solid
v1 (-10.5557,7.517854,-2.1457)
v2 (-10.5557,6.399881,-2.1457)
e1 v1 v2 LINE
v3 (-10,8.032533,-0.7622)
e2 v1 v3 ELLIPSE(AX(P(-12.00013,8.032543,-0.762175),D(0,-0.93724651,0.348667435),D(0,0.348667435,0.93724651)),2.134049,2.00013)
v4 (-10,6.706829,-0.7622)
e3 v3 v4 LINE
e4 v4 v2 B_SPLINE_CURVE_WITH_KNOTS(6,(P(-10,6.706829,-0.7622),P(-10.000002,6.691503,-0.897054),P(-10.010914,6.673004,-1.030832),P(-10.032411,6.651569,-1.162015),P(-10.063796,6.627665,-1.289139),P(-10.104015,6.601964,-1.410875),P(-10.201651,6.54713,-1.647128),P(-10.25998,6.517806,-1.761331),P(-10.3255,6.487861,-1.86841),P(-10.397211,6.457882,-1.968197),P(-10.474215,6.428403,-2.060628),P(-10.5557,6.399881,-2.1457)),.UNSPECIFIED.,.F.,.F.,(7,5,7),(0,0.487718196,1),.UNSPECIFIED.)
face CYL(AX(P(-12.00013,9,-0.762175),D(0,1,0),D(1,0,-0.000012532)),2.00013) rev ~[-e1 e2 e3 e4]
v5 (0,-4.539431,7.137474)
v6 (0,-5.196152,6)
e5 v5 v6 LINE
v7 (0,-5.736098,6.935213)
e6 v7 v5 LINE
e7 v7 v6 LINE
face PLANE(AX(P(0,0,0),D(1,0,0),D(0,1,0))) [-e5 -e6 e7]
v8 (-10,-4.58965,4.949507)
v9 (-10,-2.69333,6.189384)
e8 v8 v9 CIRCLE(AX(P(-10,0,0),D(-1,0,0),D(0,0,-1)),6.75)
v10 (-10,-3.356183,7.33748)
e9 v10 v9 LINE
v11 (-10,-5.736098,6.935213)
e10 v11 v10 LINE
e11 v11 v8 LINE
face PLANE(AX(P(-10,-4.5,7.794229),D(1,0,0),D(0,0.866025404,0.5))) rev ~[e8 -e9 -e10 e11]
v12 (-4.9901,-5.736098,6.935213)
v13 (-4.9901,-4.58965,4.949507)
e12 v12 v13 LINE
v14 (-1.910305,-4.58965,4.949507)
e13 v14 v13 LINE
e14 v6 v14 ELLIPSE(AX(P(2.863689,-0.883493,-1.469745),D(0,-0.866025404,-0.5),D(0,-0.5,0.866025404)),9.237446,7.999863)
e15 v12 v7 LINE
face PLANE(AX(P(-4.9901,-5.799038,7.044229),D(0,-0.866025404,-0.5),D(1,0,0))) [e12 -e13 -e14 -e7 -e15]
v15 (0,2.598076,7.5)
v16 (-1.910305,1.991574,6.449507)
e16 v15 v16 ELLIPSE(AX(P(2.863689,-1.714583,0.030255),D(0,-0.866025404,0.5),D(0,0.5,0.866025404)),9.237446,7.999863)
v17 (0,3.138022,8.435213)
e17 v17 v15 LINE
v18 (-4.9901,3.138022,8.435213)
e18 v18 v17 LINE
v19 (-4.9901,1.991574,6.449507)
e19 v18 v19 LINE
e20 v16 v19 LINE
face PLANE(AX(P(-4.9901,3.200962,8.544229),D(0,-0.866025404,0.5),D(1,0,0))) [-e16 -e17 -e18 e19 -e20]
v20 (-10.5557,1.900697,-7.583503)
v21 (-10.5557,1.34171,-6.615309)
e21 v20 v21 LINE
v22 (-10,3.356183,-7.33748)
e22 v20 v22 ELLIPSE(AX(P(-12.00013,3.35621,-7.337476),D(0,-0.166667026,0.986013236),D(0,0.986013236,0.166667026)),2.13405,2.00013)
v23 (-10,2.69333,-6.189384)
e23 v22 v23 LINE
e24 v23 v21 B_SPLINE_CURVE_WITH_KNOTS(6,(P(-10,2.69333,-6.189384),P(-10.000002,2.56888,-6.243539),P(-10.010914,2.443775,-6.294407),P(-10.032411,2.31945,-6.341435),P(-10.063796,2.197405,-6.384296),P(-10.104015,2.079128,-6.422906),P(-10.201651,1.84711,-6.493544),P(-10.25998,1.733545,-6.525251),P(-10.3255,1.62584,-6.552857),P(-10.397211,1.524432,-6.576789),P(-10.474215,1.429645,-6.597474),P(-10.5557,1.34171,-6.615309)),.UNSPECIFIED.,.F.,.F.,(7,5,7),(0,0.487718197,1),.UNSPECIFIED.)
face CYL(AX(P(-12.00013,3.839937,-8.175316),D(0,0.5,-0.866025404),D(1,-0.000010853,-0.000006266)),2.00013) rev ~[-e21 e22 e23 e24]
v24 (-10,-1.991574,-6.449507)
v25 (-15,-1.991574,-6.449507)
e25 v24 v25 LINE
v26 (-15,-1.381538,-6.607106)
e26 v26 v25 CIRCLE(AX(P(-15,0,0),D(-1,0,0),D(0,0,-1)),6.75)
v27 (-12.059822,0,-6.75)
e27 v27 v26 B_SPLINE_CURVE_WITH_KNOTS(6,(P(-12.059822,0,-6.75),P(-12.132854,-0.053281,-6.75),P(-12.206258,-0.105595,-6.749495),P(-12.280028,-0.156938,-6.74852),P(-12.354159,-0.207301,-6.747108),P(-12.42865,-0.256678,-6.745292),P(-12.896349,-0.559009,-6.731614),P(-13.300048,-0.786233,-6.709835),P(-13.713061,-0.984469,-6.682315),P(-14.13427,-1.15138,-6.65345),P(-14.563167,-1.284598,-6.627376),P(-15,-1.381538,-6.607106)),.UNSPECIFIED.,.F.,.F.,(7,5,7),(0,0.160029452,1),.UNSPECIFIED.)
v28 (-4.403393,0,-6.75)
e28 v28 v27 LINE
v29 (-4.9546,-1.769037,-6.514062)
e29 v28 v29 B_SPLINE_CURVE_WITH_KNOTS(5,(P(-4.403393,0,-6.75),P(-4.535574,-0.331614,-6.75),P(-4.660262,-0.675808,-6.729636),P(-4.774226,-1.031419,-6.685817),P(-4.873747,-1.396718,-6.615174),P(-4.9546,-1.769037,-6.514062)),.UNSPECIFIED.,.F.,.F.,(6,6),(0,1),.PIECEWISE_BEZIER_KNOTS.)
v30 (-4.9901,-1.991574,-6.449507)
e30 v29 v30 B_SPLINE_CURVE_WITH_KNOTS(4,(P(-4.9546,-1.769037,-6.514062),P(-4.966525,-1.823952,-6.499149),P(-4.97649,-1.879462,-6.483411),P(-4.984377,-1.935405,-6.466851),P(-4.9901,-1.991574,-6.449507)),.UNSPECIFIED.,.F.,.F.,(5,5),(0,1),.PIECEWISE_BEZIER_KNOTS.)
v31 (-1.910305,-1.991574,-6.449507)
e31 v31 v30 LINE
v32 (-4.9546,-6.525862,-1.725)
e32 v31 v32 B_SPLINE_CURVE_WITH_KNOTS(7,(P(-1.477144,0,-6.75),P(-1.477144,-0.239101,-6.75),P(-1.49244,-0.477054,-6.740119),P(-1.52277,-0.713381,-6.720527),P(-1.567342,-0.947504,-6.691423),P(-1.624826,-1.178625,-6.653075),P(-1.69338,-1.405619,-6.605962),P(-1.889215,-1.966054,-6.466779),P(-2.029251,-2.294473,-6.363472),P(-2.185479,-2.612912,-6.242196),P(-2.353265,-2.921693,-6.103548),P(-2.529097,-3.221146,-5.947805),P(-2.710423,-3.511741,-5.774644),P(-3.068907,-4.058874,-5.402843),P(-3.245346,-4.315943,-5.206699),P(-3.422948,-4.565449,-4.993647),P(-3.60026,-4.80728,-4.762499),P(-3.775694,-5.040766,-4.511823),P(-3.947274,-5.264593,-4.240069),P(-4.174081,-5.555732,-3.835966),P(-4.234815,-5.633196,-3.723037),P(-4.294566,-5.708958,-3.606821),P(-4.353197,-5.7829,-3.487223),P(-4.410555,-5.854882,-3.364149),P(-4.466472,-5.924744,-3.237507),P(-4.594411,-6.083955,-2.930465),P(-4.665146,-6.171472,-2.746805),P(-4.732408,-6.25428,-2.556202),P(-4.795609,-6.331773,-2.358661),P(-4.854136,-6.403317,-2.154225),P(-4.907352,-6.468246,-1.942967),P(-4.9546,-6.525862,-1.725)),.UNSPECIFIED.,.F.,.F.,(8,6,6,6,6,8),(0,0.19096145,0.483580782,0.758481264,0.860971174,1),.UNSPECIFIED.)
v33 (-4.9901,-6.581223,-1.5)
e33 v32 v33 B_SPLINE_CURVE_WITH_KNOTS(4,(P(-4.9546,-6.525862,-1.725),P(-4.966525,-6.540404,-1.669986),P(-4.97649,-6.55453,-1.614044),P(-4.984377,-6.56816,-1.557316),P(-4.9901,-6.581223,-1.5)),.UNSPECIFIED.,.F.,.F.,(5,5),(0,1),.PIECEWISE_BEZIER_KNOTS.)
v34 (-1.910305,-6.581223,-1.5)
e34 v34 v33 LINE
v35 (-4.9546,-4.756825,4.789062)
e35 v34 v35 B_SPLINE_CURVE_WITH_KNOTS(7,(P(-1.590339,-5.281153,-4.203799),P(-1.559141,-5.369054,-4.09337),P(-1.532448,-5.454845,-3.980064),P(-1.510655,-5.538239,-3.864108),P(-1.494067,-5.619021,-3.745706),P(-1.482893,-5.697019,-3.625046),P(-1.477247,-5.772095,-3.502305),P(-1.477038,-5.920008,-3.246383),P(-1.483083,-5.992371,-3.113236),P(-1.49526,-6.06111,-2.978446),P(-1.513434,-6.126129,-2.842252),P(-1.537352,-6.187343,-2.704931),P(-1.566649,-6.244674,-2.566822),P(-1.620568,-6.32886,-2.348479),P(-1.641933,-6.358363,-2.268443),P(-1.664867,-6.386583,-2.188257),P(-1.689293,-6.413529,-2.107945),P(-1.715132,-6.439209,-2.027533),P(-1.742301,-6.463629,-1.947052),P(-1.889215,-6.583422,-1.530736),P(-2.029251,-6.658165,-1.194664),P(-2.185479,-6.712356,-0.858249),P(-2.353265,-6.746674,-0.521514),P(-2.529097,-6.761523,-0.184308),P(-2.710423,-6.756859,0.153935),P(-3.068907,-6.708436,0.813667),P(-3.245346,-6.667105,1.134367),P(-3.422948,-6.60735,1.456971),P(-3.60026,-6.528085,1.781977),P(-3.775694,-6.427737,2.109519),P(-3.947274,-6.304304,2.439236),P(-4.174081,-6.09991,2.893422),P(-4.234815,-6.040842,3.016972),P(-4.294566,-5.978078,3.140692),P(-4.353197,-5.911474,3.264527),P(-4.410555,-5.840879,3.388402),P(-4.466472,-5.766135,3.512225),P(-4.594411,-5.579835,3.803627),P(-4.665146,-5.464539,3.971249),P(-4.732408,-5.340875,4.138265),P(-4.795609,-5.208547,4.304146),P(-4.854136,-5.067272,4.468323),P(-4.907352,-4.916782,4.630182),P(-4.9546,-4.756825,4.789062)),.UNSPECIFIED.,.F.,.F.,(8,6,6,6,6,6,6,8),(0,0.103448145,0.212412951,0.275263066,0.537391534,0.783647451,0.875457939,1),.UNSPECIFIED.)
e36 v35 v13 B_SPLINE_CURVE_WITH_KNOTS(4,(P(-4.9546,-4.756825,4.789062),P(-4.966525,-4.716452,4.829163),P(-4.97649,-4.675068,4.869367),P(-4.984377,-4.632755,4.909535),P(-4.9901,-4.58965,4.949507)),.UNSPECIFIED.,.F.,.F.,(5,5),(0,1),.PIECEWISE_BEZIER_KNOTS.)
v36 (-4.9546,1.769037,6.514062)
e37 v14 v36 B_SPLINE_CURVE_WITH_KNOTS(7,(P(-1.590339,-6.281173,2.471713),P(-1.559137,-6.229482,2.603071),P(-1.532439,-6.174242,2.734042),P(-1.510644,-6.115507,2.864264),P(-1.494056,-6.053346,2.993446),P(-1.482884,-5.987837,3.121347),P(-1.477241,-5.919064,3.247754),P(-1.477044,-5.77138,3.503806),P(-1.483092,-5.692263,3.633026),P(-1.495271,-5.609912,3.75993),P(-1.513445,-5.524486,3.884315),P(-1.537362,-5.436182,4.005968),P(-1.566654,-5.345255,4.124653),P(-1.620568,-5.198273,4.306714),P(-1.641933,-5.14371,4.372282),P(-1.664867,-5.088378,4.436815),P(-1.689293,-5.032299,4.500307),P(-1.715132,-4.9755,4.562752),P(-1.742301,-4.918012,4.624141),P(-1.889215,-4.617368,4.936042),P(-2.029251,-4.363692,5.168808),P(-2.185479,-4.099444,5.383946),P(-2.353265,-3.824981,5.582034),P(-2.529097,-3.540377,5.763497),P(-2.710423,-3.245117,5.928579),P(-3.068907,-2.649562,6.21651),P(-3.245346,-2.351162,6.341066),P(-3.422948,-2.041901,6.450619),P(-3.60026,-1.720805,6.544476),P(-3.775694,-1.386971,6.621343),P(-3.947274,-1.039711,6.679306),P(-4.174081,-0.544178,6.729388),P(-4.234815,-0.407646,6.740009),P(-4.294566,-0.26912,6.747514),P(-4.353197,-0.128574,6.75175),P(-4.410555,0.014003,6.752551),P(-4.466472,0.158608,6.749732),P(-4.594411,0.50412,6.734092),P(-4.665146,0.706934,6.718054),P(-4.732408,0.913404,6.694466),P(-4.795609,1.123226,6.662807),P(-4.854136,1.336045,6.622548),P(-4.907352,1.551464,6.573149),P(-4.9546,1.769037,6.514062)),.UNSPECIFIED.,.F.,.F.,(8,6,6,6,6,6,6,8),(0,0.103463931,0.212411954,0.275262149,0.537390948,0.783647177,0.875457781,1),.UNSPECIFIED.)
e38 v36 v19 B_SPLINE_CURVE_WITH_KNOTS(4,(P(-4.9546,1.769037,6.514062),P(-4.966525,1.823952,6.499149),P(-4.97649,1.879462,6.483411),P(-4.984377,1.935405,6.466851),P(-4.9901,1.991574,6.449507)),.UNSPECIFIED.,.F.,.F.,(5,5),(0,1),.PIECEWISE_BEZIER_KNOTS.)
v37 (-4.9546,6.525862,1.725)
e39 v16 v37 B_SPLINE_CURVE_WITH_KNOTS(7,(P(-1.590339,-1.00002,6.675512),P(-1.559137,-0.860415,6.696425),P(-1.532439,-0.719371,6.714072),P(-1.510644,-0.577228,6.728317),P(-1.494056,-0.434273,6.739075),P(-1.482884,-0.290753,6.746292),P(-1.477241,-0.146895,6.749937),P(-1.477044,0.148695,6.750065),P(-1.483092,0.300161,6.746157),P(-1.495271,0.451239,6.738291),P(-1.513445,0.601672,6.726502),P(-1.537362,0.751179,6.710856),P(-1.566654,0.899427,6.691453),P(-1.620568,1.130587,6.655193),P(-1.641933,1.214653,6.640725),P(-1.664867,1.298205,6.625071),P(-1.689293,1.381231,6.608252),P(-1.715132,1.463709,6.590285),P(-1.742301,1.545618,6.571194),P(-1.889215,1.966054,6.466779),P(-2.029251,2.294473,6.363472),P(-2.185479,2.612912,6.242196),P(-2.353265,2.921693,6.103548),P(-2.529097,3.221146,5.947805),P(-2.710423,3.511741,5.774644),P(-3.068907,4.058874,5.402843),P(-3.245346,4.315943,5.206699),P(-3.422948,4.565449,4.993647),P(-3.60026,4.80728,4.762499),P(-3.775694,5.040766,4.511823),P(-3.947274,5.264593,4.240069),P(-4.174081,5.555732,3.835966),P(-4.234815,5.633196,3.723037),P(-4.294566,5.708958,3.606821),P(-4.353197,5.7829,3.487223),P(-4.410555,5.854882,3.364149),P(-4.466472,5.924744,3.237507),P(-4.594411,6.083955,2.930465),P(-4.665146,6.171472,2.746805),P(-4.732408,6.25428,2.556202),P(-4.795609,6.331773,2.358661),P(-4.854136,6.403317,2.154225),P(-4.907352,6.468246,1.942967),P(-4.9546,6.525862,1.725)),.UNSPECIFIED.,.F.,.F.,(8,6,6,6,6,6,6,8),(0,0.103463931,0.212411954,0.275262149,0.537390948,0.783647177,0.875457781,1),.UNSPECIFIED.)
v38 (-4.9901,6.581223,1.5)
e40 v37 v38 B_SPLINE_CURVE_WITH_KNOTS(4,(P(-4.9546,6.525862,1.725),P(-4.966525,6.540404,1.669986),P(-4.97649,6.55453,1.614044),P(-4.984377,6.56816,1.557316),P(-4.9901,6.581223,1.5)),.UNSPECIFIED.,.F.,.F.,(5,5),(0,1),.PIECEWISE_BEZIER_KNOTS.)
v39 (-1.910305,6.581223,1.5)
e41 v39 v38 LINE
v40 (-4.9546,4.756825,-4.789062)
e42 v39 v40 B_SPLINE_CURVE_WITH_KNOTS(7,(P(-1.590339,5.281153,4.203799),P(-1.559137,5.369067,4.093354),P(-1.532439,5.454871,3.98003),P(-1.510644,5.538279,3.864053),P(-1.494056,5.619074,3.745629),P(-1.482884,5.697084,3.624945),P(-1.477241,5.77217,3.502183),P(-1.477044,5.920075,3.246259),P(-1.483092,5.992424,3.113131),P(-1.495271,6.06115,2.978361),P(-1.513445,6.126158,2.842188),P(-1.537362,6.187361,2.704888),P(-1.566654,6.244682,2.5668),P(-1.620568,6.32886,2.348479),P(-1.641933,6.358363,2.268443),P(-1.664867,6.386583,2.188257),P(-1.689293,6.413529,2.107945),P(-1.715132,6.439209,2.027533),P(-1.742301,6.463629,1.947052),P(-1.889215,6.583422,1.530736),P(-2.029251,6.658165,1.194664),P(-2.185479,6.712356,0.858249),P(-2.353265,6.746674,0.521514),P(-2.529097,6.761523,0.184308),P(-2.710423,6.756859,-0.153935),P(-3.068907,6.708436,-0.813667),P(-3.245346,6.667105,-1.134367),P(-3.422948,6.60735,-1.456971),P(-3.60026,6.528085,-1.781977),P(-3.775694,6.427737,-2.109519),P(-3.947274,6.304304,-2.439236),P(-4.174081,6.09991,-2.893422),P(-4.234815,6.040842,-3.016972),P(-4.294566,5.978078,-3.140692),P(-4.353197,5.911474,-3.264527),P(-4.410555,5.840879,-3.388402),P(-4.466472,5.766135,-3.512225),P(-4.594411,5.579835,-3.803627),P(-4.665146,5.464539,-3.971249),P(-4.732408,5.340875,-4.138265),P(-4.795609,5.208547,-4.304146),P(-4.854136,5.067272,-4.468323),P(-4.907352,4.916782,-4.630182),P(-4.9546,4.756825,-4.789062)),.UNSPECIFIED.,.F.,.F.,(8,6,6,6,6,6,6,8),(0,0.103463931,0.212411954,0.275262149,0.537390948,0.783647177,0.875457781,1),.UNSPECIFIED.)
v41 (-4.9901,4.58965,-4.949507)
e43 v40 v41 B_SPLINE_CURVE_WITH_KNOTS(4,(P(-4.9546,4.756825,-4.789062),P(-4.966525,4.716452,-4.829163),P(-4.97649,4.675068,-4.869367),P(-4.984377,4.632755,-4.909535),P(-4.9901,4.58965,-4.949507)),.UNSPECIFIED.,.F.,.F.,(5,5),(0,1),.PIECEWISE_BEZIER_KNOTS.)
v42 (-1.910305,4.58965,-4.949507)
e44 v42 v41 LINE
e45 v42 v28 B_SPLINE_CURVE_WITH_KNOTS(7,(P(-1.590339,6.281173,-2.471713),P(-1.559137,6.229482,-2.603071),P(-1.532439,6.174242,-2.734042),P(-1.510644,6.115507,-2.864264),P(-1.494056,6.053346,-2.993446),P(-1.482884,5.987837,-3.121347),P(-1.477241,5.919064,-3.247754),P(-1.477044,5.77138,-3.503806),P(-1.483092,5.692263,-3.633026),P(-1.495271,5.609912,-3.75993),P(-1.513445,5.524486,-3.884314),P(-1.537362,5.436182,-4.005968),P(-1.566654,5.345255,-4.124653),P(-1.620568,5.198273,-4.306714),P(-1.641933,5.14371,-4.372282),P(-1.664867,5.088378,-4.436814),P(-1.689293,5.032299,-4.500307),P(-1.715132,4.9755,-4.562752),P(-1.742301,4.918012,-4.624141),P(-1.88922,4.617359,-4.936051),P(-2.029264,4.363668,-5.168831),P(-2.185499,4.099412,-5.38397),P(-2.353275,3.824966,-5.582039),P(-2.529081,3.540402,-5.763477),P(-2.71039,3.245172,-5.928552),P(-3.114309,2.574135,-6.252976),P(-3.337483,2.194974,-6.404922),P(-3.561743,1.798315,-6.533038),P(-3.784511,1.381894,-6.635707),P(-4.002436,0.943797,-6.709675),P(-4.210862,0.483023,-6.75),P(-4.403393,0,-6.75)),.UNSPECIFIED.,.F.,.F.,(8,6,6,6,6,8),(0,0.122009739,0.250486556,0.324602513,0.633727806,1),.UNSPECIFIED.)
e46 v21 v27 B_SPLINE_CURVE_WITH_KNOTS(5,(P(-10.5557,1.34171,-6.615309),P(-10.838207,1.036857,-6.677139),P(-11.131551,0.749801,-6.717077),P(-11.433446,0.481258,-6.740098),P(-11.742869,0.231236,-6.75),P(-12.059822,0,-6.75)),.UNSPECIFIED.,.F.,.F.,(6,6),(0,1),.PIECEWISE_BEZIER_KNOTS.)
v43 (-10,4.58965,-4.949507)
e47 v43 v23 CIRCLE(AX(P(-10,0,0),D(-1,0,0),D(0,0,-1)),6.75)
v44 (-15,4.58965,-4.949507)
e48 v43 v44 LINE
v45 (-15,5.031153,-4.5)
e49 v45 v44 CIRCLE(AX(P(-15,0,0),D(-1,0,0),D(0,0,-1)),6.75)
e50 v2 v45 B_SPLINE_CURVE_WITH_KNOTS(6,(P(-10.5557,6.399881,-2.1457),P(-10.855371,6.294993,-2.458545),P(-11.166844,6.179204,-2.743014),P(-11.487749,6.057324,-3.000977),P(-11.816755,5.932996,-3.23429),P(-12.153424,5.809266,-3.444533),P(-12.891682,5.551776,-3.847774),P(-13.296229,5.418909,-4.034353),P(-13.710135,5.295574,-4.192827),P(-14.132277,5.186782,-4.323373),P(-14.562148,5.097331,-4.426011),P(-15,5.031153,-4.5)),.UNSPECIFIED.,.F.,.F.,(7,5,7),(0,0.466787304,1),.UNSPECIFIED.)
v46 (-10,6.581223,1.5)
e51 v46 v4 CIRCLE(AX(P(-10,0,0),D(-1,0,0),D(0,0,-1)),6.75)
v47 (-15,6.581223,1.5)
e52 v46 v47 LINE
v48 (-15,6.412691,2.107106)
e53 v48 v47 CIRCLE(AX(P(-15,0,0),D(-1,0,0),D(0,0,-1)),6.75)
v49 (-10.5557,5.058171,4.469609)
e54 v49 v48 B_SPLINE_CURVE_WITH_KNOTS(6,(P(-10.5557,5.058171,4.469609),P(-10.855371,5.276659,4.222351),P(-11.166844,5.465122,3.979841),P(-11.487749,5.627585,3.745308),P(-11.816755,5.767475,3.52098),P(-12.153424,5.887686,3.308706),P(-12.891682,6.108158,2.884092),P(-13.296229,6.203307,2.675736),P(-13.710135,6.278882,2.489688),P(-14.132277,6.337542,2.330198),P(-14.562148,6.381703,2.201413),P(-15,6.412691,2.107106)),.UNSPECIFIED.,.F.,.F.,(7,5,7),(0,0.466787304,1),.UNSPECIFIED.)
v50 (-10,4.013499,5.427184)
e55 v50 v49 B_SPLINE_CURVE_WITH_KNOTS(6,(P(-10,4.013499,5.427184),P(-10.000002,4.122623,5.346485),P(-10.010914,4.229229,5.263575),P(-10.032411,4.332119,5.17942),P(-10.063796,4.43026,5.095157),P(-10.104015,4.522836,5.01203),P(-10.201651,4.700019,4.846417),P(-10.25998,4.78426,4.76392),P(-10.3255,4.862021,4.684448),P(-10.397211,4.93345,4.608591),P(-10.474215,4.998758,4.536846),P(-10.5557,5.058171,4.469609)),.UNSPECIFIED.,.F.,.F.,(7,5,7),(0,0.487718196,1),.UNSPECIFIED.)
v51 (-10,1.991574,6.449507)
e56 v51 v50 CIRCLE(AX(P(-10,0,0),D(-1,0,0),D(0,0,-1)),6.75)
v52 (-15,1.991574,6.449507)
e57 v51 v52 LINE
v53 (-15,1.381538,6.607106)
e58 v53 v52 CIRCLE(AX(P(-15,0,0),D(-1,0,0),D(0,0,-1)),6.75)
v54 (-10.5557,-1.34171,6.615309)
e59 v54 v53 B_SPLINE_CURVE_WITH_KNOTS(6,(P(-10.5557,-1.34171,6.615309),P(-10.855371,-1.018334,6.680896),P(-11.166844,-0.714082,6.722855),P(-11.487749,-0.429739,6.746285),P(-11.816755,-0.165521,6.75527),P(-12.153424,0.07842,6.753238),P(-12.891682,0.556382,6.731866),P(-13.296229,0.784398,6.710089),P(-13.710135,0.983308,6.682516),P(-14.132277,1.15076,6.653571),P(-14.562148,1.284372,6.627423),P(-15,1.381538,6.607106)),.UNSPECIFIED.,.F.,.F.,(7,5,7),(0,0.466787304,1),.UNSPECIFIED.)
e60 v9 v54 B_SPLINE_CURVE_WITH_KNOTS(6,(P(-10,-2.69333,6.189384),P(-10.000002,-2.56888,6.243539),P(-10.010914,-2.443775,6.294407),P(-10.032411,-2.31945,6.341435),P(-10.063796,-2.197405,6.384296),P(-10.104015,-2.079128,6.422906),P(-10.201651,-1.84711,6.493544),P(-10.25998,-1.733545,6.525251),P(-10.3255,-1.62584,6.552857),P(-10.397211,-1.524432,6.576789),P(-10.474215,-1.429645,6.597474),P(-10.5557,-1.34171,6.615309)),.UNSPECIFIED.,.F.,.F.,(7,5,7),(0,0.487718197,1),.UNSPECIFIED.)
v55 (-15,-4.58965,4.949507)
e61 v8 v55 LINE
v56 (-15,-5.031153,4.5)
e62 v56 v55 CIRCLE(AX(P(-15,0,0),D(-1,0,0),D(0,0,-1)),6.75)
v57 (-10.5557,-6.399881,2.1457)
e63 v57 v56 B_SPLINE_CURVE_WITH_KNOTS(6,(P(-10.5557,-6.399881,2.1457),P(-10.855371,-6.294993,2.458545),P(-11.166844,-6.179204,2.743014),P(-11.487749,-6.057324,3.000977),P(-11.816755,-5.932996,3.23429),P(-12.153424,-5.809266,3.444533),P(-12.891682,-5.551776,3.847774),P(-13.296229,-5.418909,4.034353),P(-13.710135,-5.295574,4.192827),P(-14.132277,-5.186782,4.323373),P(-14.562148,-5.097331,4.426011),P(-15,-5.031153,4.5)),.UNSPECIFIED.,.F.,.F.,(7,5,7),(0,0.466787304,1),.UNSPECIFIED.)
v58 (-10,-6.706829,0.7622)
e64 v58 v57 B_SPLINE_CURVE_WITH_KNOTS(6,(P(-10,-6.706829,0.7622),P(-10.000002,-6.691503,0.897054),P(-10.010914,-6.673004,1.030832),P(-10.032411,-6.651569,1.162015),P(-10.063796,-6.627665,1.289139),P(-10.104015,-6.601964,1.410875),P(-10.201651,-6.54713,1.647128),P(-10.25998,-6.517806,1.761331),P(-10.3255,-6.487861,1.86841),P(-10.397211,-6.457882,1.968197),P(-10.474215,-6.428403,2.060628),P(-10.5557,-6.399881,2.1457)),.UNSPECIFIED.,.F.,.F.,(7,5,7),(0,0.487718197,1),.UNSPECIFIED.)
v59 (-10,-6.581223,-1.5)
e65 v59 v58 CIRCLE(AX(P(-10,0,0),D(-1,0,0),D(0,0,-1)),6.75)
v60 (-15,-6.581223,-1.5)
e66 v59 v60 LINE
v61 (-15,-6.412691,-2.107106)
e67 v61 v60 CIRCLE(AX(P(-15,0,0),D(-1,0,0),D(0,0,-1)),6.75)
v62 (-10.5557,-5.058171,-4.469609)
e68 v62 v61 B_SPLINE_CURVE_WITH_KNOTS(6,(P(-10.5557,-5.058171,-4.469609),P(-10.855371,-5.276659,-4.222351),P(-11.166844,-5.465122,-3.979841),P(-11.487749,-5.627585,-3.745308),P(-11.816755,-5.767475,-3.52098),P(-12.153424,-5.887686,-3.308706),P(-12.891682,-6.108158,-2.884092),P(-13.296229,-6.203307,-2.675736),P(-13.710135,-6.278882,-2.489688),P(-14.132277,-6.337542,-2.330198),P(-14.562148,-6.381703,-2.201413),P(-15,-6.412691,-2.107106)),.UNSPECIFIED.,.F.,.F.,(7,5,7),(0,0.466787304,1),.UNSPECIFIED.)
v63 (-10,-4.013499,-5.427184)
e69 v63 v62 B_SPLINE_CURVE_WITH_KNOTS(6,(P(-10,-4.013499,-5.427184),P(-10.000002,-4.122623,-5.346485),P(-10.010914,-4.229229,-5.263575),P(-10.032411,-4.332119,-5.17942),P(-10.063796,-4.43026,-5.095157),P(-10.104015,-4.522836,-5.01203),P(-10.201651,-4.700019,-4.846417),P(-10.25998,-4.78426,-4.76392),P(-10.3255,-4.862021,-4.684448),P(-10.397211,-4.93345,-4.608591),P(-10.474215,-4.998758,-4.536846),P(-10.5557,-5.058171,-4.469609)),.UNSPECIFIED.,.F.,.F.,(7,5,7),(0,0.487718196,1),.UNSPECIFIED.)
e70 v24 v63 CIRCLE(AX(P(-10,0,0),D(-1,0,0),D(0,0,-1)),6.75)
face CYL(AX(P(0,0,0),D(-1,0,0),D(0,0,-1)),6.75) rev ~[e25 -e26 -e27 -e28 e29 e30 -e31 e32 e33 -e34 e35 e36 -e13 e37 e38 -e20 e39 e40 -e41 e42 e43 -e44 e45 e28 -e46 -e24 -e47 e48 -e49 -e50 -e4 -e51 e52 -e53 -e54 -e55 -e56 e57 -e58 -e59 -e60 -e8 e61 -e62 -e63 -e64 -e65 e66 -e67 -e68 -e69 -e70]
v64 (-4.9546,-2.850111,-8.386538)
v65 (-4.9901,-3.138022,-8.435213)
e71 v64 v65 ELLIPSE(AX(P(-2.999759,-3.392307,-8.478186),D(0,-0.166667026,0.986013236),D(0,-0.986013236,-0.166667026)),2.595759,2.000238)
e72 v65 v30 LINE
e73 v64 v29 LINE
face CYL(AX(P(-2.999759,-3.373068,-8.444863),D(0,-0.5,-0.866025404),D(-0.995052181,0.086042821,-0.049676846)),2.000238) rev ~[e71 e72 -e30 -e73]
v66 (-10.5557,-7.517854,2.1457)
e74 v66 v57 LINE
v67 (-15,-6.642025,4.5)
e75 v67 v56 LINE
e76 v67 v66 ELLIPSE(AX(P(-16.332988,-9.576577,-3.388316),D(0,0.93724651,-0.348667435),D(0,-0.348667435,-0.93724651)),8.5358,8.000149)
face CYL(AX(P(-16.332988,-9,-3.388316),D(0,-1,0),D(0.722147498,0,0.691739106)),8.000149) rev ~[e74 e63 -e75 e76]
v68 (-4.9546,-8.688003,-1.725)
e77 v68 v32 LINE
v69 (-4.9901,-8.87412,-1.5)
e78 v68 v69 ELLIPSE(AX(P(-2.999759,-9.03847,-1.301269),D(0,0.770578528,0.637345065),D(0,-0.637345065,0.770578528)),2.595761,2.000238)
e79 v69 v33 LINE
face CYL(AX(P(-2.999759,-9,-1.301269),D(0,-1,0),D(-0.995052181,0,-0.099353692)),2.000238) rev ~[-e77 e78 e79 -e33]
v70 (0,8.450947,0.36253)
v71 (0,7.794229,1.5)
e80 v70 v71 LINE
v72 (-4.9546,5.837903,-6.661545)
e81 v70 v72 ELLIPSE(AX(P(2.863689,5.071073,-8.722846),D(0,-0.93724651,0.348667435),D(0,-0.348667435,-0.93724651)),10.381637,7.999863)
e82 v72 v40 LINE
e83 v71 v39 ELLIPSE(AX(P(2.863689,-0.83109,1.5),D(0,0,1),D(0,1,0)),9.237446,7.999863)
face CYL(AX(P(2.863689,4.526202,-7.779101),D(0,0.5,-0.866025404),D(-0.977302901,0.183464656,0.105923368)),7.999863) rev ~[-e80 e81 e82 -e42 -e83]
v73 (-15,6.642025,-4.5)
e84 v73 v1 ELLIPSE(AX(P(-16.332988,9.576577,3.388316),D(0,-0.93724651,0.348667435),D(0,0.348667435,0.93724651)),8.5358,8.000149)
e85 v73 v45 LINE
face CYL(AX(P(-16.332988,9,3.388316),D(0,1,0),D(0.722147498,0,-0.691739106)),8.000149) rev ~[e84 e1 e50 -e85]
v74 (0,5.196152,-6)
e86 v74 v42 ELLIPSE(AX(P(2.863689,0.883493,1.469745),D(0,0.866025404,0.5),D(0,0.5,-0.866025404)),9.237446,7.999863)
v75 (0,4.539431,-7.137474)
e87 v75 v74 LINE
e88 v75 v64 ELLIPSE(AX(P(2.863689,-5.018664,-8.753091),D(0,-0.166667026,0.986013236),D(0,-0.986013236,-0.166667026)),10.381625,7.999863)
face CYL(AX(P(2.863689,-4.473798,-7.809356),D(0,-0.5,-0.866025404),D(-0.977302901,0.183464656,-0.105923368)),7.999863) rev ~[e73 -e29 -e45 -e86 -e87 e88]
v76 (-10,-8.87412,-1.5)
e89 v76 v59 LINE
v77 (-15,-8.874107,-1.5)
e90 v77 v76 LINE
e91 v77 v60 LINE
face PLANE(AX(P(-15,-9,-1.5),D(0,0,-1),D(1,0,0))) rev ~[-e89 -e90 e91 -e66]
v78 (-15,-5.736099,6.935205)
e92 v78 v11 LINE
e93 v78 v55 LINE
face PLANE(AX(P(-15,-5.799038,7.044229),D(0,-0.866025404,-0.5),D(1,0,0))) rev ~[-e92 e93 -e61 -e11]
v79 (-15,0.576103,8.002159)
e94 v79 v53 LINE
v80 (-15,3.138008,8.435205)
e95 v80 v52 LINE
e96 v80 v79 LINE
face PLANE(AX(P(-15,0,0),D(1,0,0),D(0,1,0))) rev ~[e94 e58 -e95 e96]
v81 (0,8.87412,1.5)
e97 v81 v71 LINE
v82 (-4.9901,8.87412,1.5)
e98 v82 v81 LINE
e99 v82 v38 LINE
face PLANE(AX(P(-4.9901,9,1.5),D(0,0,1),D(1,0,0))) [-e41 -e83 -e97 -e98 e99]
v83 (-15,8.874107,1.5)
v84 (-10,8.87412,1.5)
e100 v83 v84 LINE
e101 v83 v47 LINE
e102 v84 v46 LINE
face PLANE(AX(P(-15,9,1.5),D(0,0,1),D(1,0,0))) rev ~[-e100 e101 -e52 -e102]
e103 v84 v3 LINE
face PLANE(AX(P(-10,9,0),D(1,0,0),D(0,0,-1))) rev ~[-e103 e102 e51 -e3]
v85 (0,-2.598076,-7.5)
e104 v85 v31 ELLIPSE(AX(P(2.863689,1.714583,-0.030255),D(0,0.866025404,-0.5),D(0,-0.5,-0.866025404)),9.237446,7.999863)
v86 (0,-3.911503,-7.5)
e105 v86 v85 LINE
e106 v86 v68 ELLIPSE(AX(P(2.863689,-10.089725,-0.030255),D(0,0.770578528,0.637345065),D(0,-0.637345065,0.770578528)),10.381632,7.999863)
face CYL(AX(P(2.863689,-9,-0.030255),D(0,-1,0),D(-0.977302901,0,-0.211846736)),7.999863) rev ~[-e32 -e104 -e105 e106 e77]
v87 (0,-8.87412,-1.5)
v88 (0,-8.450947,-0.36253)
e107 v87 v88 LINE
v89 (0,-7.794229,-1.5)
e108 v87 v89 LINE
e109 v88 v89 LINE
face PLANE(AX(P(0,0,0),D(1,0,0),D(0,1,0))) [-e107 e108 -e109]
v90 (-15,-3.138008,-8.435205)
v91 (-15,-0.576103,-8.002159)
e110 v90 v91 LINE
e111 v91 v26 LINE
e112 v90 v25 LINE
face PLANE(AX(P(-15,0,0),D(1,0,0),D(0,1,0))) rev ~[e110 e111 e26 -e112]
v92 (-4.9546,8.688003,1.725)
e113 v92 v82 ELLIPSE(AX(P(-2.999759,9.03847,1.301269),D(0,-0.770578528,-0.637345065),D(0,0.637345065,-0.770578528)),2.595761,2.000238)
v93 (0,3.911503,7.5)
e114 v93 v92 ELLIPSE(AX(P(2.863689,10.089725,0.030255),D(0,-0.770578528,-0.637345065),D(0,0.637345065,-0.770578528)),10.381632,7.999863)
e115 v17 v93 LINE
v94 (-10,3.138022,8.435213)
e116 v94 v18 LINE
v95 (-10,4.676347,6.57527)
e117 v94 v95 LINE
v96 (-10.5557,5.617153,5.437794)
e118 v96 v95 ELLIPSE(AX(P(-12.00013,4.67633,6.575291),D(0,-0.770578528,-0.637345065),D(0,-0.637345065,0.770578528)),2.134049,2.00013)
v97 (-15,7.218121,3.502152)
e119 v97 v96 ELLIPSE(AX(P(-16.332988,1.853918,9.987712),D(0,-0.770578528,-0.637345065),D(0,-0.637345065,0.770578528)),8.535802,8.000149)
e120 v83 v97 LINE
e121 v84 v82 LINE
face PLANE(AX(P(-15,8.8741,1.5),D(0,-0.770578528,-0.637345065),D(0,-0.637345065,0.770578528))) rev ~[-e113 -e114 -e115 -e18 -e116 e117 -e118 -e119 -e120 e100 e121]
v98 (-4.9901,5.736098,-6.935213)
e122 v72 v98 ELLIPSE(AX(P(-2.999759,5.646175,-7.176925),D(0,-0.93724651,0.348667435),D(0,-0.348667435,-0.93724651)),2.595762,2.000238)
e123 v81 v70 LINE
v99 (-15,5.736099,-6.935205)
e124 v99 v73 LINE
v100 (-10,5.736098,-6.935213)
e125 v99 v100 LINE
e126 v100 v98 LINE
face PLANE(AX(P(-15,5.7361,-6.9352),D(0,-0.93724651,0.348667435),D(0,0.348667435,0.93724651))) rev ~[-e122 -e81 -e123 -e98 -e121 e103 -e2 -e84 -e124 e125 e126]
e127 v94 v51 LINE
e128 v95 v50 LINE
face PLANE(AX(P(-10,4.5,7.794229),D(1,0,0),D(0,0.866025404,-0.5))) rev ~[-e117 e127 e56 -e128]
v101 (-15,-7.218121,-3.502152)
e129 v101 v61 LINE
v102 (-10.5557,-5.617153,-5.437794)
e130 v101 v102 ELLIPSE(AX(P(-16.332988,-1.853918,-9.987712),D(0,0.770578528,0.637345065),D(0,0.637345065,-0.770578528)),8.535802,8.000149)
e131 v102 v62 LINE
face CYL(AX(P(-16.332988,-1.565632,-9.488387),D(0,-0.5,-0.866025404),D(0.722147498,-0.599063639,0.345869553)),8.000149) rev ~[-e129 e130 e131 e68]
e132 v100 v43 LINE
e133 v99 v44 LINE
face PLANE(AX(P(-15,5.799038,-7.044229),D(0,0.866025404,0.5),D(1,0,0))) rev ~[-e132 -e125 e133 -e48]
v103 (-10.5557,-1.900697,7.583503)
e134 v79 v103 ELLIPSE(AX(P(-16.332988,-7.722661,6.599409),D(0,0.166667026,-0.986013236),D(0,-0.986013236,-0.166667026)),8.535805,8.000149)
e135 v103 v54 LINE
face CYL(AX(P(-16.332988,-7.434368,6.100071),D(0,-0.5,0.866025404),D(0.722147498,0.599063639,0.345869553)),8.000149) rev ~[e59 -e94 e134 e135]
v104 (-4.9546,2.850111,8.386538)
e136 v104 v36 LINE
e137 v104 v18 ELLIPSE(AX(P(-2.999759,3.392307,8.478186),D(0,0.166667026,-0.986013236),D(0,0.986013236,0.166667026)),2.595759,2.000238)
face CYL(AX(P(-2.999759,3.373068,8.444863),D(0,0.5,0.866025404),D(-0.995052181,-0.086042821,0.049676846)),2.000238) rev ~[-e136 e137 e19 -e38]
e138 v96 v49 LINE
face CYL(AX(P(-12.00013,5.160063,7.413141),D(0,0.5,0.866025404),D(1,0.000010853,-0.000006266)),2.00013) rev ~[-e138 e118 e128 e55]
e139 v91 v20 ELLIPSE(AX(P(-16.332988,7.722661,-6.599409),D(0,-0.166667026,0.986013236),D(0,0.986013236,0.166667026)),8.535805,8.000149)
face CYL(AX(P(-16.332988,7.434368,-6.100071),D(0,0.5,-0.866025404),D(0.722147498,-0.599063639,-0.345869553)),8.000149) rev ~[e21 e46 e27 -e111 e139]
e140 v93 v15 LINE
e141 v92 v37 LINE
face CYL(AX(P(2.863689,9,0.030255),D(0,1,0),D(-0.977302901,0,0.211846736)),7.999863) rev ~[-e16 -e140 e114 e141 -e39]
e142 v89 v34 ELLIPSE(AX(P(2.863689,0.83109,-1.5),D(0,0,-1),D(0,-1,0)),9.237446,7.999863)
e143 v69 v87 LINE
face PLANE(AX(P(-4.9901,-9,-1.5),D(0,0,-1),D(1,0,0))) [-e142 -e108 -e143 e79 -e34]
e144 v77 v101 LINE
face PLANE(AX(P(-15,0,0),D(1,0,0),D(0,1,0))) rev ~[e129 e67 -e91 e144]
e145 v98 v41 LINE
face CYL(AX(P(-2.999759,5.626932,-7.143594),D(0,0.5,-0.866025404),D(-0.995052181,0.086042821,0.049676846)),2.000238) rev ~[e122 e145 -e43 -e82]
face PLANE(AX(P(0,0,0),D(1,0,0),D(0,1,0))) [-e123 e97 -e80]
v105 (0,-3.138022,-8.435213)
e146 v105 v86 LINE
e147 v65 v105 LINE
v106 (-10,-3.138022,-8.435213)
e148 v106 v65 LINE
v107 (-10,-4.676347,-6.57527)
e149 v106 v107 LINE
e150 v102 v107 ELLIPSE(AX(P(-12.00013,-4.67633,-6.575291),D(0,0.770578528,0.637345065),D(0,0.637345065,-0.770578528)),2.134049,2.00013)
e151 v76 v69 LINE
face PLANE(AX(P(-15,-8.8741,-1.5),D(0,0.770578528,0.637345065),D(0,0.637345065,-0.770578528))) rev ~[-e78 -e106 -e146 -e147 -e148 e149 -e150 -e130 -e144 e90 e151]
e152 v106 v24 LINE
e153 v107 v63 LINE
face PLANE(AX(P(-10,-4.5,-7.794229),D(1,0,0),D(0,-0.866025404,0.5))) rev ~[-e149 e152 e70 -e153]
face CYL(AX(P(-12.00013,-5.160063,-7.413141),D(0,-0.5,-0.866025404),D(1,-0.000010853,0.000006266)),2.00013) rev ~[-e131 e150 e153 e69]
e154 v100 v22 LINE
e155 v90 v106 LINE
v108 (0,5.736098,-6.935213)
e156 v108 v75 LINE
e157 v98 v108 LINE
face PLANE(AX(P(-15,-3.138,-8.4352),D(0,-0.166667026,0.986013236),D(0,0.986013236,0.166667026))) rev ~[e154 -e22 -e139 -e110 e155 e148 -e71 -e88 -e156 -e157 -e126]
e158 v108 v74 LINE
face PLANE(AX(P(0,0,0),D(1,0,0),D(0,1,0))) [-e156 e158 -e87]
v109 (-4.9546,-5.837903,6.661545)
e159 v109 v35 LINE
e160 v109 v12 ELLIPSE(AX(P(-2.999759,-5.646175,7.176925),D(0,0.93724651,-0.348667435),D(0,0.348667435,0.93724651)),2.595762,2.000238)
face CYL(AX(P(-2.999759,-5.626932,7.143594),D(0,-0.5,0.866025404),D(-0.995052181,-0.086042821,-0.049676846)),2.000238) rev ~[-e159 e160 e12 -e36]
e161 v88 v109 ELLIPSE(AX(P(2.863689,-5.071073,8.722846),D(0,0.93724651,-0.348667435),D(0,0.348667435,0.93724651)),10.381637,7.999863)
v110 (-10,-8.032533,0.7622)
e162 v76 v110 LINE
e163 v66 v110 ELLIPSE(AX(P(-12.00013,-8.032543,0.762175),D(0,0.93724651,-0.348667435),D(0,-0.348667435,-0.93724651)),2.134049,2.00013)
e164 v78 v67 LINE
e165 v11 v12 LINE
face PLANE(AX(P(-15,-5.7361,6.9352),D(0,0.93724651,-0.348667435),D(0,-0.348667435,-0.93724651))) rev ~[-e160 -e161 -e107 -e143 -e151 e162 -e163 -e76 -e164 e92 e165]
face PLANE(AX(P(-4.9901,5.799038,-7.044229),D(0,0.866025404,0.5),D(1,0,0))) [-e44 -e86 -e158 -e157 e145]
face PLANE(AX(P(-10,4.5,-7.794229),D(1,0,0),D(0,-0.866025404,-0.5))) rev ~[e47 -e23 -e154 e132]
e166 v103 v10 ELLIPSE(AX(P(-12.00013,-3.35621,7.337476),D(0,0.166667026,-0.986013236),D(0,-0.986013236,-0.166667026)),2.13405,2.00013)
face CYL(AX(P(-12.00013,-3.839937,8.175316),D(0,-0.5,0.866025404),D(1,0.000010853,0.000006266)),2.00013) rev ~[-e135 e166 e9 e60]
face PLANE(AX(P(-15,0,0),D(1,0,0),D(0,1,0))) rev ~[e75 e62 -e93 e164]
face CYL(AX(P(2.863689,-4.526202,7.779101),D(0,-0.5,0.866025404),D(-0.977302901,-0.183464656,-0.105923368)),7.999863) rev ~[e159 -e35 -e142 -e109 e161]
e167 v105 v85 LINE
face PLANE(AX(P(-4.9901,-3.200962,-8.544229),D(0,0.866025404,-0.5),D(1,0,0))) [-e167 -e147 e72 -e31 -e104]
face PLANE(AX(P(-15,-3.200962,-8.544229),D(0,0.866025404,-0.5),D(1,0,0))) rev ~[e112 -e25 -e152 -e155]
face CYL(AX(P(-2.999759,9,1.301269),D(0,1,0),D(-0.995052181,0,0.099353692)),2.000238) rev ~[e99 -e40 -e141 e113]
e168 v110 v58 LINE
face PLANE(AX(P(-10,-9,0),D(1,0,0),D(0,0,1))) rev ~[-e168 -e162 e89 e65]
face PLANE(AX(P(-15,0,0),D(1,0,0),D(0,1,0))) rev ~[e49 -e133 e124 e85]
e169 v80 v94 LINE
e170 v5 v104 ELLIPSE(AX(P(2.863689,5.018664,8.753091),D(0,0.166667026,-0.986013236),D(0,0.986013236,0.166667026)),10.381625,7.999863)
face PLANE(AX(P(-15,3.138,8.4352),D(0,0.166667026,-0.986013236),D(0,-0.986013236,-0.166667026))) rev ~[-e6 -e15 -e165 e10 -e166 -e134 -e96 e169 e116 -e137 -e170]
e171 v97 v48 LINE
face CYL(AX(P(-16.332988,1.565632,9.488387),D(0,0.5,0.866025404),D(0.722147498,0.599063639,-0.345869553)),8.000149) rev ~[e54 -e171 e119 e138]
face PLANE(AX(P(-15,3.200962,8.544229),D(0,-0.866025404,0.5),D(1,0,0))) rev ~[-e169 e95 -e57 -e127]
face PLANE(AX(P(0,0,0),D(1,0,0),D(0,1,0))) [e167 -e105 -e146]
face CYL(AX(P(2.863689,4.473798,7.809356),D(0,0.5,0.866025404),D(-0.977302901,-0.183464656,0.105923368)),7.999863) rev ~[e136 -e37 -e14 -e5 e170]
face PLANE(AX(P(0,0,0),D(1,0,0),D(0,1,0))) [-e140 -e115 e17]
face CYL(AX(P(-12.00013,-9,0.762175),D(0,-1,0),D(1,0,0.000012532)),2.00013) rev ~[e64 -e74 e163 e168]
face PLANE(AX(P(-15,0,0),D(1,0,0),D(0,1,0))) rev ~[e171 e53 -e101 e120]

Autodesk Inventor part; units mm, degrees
sketch "Sketch1" plane through (0, 0, 0) normal (1, 0, 0) x (0, 1, 0)
  circle A0 centre (0, 0) radius 9
  dimension "d31" = 18
extrude "Extrusion1" add sketch "Sketch1" against normal blind 15
hole "Hole1" at (0, 0, 0) direction (-1, 0, 0) diameter 13.5 end through all
ref_plane "Work Plane1" through (0, 0, 1.5) normal (0, 0, 1) x (1, 0, 0)
ref_plane "Work Plane2" through (-5, -9, 1.5) normal (0, -1, 0) x (1, 0, 0)
sketch "Sketch4" plane through (-5, -9, 1.5) normal (0, -1, 0) x (1, 0, 0)
  line L0 (-10, -3) -> (-5, -3)
  line L1 (-10, 0) -> (-10, -6) construction
  line L2 (-40.0446, 0) -> (21.4016, 0) construction
  line L3 (-5, 0) -> (-5, 0.1987) construction
  arc A0 (-10, -6) -> (-5.0454, -0.225) centre (-12.8638, 1.4698) ccw construction
  arc A1 (-5.0454, -0.225) -> (-5, 0.1987) centre (-7, 0.1987) ccw construction
  line L4 (-10, -3) -> (-10, 3)
  line L5 (-5, -3) -> (-5, -0.7378)
  arc A2 (-5.5557, 0.6457) -> (-10, 3) centre (-11.3329, -4.8882) ccw
  arc A3 (-5, -0.7378) -> (-5.5557, 0.6457) centre (-7, -0.7378) ccw
  line L6 (-10, -8.25) -> (-10, 5.25) construction
  line L7 (-10, -8.25) -> (-10, 5.25) construction
  line L8 (-10, 7.5) -> (-10, -10.5) construction
  line L9 (-10, 7.5) -> (12.6236, 7.5)
  line L10 (-5, -1.5) -> (12.6236, -1.5)
  line L11 (-10, 7.5) -> (5, 7.5)
  line L12 (-2.5, 7.5) -> (-2.5, -13.092)
  line L13 (35.0446, 0) -> (-26.4016, 0) construction
  arc A4 (0.0454, -0.225) -> (5, -6) centre (7.8638, 1.4698) ccw construction
  arc A5 (0.0099, 0) -> (0.0454, -0.225) centre (2, 0.1987) ccw
  line L14 (5, 0.1987) -> (5, -10.5) construction
  line L15 (5, -6) -> (5, 0) construction
  line L16 (0.0099, 0) -> (5, 0) construction
  line L17 (-10, 3) -> (6.7233, 3)
  arc A6 (0.0099, -3) -> (0.0454, -3.225) centre (2, -2.8013) ccw
  arc A7 (0.0454, -3.225) -> (5, -9) centre (7.8638, -1.5302) ccw
  line L18 (5, -9) -> (5, -3)
  line L19 (0.0099, -3) -> (5, -3)
  line L20 (-10, -3) -> (-5, -3)
  line L21 (0.0099, -3) -> (12.6236, -3)
  point P0 (5, -1.5)
  point P1 (-4.9623, 0.2185)
  point P2 (-5, 0)
  point P3 (-4.9623, -0.2185)
  point P4 (-5, 0)
  point P5 (-0.0377, 0.2185)
  point P6 (0, 0)
  point P7 (-0.0377, -0.2185)
  point P8 (0, 0)
  point P9 (5, 0)
  dimension "d43" = 6
  dimension "d47" = 2
  dimension "d49" = 8
  dimension "d76" = 18
  dimension "d77" = 9
  dimension "d78" = 6
  dimension "d79" = 8
  dimension "d80" = 2
  dimension "d81" = 5
  dimension "d82" = 1.5
  dimension "d84" = 15
extrude "Extrusion7" cut sketch "Sketch4" against normal blind 10 contours L4 A2 A3 L5 L0 | L19 L18 A7 A6
pattern_circular "Circular Pattern3" count 6 over 360 about axis through (-10, 0, 0) along (1, 0, 0) of "Extrusion7"
ref_plane "Work Plane3" through (-7.5, 0, 0) normal (1, 0, 0) x (0, 0, -1)
sketch "Sketch6" plane through (-15, 0, 0) normal (-1, 0, 0) x (0, 0, 1)
  line L0 (-6.9352, 5.7361) -> (1.5, 8.8741)
  line L1 (6.9352, -5.7361) -> (4.9495, -4.5896) construction
  line L2 (4.5, -5.0312) -> (4.5, -7.7942) construction
  arc A0 (4.5, -7.7942) -> (6.9352, -5.7361) centre (0, 0) ccw construction
  line L3 (8.4352, 3.138) -> (6.4495, 1.9916) construction
  line L4 (6.6071, 1.3815) -> (9, 0) construction
  arc A1 (9, 0) -> (8.4352, 3.138) centre (0, 0) ccw construction
  line L5 (2.1071, 6.4127) -> (4.5, 7.7942) construction
  arc A2 (4.5, 7.7942) -> (1.5, 8.8741) centre (0, 0) ccw construction
  line L6 (1.5, 8.8741) -> (1.5, 6.5812) construction
  line L7 (-4.5, 5.0312) -> (-4.5, 7.7942) construction
  arc A3 (-4.5, 7.7942) -> (-6.9352, 5.7361) centre (0, 0) ccw construction
  line L8 (-6.9352, 5.7361) -> (-4.9495, 4.5896) construction
  line L9 (-6.6071, -1.3815) -> (-9, 0) construction
  arc A4 (-9, 0) -> (-8.4352, -3.138) centre (0, 0) ccw construction
  line L10 (-8.4352, -3.138) -> (-6.4495, -1.9916) construction
  line L11 (-2.1071, -6.4127) -> (-4.5, -7.7942) construction
  arc A5 (-4.5, -7.7942) -> (-1.5, -8.8741) centre (0, 0) ccw construction
  line L12 (-1.5, -8.8741) -> (-1.5, -6.5812) construction
  line L13 (0, 0) -> (-6.9352, 5.7361)
  line L14 (1.5, 8.8741) -> (0, 0)
  circle A6 centre (0, 0) radius 9
  line L15 (-8.4352, -3.138) -> (-6.9352, 5.7361)
  line L16 (0, 0) -> (-8.4352, -3.138)
  line L17 (-6.9352, 5.7361) -> (0, 0)
  line L18 (-1.5, -8.8741) -> (-8.4352, -3.138)
  line L19 (0, 0) -> (-1.5, -8.8741)
  line L20 (-8.4352, -3.138) -> (0, 0)
  line L21 (6.9352, -5.7361) -> (-1.5, -8.8741)
  line L22 (0, 0) -> (6.9352, -5.7361)
  line L23 (-1.5, -8.8741) -> (0, 0)
  line L24 (8.4352, 3.138) -> (6.9352, -5.7361)
  line L25 (0, 0) -> (8.4352, 3.138)
  line L26 (6.9352, -5.7361) -> (0, 0)
  line L27 (1.5, 8.8741) -> (8.4352, 3.138)
  line L28 (0, 0) -> (1.5, 8.8741)
  line L29 (8.4352, 3.138) -> (0, 0)
  arc A7 (-2.1071, -6.4127) -> (-1.5, -6.5812) centre (0, 0) ccw projected
  arc A8 (-6.6071, -1.3815) -> (-6.4495, -1.9916) centre (0, 0) ccw projected
  arc A9 (-4.5, 5.0312) -> (-4.9495, 4.5896) centre (0, 0) ccw projected
  arc A10 (2.1071, 6.4127) -> (1.5, 6.5812) centre (0, 0) ccw projected
  arc A11 (6.6071, 1.3815) -> (6.4495, 1.9916) centre (0, 0) ccw projected
  arc A12 (4.5, -5.0312) -> (4.9495, -4.5896) centre (0, 0) ccw projected
  dimension "d72" = 360
extrude "Extrusion11" cut sketch "Sketch6" against normal through all contours A6 L0 | L15 A6 | A6 L27 | L18 A6 | A6 L24 | L21 A6
properties part number "SPRING NUT1" material "Steel, Mild"
